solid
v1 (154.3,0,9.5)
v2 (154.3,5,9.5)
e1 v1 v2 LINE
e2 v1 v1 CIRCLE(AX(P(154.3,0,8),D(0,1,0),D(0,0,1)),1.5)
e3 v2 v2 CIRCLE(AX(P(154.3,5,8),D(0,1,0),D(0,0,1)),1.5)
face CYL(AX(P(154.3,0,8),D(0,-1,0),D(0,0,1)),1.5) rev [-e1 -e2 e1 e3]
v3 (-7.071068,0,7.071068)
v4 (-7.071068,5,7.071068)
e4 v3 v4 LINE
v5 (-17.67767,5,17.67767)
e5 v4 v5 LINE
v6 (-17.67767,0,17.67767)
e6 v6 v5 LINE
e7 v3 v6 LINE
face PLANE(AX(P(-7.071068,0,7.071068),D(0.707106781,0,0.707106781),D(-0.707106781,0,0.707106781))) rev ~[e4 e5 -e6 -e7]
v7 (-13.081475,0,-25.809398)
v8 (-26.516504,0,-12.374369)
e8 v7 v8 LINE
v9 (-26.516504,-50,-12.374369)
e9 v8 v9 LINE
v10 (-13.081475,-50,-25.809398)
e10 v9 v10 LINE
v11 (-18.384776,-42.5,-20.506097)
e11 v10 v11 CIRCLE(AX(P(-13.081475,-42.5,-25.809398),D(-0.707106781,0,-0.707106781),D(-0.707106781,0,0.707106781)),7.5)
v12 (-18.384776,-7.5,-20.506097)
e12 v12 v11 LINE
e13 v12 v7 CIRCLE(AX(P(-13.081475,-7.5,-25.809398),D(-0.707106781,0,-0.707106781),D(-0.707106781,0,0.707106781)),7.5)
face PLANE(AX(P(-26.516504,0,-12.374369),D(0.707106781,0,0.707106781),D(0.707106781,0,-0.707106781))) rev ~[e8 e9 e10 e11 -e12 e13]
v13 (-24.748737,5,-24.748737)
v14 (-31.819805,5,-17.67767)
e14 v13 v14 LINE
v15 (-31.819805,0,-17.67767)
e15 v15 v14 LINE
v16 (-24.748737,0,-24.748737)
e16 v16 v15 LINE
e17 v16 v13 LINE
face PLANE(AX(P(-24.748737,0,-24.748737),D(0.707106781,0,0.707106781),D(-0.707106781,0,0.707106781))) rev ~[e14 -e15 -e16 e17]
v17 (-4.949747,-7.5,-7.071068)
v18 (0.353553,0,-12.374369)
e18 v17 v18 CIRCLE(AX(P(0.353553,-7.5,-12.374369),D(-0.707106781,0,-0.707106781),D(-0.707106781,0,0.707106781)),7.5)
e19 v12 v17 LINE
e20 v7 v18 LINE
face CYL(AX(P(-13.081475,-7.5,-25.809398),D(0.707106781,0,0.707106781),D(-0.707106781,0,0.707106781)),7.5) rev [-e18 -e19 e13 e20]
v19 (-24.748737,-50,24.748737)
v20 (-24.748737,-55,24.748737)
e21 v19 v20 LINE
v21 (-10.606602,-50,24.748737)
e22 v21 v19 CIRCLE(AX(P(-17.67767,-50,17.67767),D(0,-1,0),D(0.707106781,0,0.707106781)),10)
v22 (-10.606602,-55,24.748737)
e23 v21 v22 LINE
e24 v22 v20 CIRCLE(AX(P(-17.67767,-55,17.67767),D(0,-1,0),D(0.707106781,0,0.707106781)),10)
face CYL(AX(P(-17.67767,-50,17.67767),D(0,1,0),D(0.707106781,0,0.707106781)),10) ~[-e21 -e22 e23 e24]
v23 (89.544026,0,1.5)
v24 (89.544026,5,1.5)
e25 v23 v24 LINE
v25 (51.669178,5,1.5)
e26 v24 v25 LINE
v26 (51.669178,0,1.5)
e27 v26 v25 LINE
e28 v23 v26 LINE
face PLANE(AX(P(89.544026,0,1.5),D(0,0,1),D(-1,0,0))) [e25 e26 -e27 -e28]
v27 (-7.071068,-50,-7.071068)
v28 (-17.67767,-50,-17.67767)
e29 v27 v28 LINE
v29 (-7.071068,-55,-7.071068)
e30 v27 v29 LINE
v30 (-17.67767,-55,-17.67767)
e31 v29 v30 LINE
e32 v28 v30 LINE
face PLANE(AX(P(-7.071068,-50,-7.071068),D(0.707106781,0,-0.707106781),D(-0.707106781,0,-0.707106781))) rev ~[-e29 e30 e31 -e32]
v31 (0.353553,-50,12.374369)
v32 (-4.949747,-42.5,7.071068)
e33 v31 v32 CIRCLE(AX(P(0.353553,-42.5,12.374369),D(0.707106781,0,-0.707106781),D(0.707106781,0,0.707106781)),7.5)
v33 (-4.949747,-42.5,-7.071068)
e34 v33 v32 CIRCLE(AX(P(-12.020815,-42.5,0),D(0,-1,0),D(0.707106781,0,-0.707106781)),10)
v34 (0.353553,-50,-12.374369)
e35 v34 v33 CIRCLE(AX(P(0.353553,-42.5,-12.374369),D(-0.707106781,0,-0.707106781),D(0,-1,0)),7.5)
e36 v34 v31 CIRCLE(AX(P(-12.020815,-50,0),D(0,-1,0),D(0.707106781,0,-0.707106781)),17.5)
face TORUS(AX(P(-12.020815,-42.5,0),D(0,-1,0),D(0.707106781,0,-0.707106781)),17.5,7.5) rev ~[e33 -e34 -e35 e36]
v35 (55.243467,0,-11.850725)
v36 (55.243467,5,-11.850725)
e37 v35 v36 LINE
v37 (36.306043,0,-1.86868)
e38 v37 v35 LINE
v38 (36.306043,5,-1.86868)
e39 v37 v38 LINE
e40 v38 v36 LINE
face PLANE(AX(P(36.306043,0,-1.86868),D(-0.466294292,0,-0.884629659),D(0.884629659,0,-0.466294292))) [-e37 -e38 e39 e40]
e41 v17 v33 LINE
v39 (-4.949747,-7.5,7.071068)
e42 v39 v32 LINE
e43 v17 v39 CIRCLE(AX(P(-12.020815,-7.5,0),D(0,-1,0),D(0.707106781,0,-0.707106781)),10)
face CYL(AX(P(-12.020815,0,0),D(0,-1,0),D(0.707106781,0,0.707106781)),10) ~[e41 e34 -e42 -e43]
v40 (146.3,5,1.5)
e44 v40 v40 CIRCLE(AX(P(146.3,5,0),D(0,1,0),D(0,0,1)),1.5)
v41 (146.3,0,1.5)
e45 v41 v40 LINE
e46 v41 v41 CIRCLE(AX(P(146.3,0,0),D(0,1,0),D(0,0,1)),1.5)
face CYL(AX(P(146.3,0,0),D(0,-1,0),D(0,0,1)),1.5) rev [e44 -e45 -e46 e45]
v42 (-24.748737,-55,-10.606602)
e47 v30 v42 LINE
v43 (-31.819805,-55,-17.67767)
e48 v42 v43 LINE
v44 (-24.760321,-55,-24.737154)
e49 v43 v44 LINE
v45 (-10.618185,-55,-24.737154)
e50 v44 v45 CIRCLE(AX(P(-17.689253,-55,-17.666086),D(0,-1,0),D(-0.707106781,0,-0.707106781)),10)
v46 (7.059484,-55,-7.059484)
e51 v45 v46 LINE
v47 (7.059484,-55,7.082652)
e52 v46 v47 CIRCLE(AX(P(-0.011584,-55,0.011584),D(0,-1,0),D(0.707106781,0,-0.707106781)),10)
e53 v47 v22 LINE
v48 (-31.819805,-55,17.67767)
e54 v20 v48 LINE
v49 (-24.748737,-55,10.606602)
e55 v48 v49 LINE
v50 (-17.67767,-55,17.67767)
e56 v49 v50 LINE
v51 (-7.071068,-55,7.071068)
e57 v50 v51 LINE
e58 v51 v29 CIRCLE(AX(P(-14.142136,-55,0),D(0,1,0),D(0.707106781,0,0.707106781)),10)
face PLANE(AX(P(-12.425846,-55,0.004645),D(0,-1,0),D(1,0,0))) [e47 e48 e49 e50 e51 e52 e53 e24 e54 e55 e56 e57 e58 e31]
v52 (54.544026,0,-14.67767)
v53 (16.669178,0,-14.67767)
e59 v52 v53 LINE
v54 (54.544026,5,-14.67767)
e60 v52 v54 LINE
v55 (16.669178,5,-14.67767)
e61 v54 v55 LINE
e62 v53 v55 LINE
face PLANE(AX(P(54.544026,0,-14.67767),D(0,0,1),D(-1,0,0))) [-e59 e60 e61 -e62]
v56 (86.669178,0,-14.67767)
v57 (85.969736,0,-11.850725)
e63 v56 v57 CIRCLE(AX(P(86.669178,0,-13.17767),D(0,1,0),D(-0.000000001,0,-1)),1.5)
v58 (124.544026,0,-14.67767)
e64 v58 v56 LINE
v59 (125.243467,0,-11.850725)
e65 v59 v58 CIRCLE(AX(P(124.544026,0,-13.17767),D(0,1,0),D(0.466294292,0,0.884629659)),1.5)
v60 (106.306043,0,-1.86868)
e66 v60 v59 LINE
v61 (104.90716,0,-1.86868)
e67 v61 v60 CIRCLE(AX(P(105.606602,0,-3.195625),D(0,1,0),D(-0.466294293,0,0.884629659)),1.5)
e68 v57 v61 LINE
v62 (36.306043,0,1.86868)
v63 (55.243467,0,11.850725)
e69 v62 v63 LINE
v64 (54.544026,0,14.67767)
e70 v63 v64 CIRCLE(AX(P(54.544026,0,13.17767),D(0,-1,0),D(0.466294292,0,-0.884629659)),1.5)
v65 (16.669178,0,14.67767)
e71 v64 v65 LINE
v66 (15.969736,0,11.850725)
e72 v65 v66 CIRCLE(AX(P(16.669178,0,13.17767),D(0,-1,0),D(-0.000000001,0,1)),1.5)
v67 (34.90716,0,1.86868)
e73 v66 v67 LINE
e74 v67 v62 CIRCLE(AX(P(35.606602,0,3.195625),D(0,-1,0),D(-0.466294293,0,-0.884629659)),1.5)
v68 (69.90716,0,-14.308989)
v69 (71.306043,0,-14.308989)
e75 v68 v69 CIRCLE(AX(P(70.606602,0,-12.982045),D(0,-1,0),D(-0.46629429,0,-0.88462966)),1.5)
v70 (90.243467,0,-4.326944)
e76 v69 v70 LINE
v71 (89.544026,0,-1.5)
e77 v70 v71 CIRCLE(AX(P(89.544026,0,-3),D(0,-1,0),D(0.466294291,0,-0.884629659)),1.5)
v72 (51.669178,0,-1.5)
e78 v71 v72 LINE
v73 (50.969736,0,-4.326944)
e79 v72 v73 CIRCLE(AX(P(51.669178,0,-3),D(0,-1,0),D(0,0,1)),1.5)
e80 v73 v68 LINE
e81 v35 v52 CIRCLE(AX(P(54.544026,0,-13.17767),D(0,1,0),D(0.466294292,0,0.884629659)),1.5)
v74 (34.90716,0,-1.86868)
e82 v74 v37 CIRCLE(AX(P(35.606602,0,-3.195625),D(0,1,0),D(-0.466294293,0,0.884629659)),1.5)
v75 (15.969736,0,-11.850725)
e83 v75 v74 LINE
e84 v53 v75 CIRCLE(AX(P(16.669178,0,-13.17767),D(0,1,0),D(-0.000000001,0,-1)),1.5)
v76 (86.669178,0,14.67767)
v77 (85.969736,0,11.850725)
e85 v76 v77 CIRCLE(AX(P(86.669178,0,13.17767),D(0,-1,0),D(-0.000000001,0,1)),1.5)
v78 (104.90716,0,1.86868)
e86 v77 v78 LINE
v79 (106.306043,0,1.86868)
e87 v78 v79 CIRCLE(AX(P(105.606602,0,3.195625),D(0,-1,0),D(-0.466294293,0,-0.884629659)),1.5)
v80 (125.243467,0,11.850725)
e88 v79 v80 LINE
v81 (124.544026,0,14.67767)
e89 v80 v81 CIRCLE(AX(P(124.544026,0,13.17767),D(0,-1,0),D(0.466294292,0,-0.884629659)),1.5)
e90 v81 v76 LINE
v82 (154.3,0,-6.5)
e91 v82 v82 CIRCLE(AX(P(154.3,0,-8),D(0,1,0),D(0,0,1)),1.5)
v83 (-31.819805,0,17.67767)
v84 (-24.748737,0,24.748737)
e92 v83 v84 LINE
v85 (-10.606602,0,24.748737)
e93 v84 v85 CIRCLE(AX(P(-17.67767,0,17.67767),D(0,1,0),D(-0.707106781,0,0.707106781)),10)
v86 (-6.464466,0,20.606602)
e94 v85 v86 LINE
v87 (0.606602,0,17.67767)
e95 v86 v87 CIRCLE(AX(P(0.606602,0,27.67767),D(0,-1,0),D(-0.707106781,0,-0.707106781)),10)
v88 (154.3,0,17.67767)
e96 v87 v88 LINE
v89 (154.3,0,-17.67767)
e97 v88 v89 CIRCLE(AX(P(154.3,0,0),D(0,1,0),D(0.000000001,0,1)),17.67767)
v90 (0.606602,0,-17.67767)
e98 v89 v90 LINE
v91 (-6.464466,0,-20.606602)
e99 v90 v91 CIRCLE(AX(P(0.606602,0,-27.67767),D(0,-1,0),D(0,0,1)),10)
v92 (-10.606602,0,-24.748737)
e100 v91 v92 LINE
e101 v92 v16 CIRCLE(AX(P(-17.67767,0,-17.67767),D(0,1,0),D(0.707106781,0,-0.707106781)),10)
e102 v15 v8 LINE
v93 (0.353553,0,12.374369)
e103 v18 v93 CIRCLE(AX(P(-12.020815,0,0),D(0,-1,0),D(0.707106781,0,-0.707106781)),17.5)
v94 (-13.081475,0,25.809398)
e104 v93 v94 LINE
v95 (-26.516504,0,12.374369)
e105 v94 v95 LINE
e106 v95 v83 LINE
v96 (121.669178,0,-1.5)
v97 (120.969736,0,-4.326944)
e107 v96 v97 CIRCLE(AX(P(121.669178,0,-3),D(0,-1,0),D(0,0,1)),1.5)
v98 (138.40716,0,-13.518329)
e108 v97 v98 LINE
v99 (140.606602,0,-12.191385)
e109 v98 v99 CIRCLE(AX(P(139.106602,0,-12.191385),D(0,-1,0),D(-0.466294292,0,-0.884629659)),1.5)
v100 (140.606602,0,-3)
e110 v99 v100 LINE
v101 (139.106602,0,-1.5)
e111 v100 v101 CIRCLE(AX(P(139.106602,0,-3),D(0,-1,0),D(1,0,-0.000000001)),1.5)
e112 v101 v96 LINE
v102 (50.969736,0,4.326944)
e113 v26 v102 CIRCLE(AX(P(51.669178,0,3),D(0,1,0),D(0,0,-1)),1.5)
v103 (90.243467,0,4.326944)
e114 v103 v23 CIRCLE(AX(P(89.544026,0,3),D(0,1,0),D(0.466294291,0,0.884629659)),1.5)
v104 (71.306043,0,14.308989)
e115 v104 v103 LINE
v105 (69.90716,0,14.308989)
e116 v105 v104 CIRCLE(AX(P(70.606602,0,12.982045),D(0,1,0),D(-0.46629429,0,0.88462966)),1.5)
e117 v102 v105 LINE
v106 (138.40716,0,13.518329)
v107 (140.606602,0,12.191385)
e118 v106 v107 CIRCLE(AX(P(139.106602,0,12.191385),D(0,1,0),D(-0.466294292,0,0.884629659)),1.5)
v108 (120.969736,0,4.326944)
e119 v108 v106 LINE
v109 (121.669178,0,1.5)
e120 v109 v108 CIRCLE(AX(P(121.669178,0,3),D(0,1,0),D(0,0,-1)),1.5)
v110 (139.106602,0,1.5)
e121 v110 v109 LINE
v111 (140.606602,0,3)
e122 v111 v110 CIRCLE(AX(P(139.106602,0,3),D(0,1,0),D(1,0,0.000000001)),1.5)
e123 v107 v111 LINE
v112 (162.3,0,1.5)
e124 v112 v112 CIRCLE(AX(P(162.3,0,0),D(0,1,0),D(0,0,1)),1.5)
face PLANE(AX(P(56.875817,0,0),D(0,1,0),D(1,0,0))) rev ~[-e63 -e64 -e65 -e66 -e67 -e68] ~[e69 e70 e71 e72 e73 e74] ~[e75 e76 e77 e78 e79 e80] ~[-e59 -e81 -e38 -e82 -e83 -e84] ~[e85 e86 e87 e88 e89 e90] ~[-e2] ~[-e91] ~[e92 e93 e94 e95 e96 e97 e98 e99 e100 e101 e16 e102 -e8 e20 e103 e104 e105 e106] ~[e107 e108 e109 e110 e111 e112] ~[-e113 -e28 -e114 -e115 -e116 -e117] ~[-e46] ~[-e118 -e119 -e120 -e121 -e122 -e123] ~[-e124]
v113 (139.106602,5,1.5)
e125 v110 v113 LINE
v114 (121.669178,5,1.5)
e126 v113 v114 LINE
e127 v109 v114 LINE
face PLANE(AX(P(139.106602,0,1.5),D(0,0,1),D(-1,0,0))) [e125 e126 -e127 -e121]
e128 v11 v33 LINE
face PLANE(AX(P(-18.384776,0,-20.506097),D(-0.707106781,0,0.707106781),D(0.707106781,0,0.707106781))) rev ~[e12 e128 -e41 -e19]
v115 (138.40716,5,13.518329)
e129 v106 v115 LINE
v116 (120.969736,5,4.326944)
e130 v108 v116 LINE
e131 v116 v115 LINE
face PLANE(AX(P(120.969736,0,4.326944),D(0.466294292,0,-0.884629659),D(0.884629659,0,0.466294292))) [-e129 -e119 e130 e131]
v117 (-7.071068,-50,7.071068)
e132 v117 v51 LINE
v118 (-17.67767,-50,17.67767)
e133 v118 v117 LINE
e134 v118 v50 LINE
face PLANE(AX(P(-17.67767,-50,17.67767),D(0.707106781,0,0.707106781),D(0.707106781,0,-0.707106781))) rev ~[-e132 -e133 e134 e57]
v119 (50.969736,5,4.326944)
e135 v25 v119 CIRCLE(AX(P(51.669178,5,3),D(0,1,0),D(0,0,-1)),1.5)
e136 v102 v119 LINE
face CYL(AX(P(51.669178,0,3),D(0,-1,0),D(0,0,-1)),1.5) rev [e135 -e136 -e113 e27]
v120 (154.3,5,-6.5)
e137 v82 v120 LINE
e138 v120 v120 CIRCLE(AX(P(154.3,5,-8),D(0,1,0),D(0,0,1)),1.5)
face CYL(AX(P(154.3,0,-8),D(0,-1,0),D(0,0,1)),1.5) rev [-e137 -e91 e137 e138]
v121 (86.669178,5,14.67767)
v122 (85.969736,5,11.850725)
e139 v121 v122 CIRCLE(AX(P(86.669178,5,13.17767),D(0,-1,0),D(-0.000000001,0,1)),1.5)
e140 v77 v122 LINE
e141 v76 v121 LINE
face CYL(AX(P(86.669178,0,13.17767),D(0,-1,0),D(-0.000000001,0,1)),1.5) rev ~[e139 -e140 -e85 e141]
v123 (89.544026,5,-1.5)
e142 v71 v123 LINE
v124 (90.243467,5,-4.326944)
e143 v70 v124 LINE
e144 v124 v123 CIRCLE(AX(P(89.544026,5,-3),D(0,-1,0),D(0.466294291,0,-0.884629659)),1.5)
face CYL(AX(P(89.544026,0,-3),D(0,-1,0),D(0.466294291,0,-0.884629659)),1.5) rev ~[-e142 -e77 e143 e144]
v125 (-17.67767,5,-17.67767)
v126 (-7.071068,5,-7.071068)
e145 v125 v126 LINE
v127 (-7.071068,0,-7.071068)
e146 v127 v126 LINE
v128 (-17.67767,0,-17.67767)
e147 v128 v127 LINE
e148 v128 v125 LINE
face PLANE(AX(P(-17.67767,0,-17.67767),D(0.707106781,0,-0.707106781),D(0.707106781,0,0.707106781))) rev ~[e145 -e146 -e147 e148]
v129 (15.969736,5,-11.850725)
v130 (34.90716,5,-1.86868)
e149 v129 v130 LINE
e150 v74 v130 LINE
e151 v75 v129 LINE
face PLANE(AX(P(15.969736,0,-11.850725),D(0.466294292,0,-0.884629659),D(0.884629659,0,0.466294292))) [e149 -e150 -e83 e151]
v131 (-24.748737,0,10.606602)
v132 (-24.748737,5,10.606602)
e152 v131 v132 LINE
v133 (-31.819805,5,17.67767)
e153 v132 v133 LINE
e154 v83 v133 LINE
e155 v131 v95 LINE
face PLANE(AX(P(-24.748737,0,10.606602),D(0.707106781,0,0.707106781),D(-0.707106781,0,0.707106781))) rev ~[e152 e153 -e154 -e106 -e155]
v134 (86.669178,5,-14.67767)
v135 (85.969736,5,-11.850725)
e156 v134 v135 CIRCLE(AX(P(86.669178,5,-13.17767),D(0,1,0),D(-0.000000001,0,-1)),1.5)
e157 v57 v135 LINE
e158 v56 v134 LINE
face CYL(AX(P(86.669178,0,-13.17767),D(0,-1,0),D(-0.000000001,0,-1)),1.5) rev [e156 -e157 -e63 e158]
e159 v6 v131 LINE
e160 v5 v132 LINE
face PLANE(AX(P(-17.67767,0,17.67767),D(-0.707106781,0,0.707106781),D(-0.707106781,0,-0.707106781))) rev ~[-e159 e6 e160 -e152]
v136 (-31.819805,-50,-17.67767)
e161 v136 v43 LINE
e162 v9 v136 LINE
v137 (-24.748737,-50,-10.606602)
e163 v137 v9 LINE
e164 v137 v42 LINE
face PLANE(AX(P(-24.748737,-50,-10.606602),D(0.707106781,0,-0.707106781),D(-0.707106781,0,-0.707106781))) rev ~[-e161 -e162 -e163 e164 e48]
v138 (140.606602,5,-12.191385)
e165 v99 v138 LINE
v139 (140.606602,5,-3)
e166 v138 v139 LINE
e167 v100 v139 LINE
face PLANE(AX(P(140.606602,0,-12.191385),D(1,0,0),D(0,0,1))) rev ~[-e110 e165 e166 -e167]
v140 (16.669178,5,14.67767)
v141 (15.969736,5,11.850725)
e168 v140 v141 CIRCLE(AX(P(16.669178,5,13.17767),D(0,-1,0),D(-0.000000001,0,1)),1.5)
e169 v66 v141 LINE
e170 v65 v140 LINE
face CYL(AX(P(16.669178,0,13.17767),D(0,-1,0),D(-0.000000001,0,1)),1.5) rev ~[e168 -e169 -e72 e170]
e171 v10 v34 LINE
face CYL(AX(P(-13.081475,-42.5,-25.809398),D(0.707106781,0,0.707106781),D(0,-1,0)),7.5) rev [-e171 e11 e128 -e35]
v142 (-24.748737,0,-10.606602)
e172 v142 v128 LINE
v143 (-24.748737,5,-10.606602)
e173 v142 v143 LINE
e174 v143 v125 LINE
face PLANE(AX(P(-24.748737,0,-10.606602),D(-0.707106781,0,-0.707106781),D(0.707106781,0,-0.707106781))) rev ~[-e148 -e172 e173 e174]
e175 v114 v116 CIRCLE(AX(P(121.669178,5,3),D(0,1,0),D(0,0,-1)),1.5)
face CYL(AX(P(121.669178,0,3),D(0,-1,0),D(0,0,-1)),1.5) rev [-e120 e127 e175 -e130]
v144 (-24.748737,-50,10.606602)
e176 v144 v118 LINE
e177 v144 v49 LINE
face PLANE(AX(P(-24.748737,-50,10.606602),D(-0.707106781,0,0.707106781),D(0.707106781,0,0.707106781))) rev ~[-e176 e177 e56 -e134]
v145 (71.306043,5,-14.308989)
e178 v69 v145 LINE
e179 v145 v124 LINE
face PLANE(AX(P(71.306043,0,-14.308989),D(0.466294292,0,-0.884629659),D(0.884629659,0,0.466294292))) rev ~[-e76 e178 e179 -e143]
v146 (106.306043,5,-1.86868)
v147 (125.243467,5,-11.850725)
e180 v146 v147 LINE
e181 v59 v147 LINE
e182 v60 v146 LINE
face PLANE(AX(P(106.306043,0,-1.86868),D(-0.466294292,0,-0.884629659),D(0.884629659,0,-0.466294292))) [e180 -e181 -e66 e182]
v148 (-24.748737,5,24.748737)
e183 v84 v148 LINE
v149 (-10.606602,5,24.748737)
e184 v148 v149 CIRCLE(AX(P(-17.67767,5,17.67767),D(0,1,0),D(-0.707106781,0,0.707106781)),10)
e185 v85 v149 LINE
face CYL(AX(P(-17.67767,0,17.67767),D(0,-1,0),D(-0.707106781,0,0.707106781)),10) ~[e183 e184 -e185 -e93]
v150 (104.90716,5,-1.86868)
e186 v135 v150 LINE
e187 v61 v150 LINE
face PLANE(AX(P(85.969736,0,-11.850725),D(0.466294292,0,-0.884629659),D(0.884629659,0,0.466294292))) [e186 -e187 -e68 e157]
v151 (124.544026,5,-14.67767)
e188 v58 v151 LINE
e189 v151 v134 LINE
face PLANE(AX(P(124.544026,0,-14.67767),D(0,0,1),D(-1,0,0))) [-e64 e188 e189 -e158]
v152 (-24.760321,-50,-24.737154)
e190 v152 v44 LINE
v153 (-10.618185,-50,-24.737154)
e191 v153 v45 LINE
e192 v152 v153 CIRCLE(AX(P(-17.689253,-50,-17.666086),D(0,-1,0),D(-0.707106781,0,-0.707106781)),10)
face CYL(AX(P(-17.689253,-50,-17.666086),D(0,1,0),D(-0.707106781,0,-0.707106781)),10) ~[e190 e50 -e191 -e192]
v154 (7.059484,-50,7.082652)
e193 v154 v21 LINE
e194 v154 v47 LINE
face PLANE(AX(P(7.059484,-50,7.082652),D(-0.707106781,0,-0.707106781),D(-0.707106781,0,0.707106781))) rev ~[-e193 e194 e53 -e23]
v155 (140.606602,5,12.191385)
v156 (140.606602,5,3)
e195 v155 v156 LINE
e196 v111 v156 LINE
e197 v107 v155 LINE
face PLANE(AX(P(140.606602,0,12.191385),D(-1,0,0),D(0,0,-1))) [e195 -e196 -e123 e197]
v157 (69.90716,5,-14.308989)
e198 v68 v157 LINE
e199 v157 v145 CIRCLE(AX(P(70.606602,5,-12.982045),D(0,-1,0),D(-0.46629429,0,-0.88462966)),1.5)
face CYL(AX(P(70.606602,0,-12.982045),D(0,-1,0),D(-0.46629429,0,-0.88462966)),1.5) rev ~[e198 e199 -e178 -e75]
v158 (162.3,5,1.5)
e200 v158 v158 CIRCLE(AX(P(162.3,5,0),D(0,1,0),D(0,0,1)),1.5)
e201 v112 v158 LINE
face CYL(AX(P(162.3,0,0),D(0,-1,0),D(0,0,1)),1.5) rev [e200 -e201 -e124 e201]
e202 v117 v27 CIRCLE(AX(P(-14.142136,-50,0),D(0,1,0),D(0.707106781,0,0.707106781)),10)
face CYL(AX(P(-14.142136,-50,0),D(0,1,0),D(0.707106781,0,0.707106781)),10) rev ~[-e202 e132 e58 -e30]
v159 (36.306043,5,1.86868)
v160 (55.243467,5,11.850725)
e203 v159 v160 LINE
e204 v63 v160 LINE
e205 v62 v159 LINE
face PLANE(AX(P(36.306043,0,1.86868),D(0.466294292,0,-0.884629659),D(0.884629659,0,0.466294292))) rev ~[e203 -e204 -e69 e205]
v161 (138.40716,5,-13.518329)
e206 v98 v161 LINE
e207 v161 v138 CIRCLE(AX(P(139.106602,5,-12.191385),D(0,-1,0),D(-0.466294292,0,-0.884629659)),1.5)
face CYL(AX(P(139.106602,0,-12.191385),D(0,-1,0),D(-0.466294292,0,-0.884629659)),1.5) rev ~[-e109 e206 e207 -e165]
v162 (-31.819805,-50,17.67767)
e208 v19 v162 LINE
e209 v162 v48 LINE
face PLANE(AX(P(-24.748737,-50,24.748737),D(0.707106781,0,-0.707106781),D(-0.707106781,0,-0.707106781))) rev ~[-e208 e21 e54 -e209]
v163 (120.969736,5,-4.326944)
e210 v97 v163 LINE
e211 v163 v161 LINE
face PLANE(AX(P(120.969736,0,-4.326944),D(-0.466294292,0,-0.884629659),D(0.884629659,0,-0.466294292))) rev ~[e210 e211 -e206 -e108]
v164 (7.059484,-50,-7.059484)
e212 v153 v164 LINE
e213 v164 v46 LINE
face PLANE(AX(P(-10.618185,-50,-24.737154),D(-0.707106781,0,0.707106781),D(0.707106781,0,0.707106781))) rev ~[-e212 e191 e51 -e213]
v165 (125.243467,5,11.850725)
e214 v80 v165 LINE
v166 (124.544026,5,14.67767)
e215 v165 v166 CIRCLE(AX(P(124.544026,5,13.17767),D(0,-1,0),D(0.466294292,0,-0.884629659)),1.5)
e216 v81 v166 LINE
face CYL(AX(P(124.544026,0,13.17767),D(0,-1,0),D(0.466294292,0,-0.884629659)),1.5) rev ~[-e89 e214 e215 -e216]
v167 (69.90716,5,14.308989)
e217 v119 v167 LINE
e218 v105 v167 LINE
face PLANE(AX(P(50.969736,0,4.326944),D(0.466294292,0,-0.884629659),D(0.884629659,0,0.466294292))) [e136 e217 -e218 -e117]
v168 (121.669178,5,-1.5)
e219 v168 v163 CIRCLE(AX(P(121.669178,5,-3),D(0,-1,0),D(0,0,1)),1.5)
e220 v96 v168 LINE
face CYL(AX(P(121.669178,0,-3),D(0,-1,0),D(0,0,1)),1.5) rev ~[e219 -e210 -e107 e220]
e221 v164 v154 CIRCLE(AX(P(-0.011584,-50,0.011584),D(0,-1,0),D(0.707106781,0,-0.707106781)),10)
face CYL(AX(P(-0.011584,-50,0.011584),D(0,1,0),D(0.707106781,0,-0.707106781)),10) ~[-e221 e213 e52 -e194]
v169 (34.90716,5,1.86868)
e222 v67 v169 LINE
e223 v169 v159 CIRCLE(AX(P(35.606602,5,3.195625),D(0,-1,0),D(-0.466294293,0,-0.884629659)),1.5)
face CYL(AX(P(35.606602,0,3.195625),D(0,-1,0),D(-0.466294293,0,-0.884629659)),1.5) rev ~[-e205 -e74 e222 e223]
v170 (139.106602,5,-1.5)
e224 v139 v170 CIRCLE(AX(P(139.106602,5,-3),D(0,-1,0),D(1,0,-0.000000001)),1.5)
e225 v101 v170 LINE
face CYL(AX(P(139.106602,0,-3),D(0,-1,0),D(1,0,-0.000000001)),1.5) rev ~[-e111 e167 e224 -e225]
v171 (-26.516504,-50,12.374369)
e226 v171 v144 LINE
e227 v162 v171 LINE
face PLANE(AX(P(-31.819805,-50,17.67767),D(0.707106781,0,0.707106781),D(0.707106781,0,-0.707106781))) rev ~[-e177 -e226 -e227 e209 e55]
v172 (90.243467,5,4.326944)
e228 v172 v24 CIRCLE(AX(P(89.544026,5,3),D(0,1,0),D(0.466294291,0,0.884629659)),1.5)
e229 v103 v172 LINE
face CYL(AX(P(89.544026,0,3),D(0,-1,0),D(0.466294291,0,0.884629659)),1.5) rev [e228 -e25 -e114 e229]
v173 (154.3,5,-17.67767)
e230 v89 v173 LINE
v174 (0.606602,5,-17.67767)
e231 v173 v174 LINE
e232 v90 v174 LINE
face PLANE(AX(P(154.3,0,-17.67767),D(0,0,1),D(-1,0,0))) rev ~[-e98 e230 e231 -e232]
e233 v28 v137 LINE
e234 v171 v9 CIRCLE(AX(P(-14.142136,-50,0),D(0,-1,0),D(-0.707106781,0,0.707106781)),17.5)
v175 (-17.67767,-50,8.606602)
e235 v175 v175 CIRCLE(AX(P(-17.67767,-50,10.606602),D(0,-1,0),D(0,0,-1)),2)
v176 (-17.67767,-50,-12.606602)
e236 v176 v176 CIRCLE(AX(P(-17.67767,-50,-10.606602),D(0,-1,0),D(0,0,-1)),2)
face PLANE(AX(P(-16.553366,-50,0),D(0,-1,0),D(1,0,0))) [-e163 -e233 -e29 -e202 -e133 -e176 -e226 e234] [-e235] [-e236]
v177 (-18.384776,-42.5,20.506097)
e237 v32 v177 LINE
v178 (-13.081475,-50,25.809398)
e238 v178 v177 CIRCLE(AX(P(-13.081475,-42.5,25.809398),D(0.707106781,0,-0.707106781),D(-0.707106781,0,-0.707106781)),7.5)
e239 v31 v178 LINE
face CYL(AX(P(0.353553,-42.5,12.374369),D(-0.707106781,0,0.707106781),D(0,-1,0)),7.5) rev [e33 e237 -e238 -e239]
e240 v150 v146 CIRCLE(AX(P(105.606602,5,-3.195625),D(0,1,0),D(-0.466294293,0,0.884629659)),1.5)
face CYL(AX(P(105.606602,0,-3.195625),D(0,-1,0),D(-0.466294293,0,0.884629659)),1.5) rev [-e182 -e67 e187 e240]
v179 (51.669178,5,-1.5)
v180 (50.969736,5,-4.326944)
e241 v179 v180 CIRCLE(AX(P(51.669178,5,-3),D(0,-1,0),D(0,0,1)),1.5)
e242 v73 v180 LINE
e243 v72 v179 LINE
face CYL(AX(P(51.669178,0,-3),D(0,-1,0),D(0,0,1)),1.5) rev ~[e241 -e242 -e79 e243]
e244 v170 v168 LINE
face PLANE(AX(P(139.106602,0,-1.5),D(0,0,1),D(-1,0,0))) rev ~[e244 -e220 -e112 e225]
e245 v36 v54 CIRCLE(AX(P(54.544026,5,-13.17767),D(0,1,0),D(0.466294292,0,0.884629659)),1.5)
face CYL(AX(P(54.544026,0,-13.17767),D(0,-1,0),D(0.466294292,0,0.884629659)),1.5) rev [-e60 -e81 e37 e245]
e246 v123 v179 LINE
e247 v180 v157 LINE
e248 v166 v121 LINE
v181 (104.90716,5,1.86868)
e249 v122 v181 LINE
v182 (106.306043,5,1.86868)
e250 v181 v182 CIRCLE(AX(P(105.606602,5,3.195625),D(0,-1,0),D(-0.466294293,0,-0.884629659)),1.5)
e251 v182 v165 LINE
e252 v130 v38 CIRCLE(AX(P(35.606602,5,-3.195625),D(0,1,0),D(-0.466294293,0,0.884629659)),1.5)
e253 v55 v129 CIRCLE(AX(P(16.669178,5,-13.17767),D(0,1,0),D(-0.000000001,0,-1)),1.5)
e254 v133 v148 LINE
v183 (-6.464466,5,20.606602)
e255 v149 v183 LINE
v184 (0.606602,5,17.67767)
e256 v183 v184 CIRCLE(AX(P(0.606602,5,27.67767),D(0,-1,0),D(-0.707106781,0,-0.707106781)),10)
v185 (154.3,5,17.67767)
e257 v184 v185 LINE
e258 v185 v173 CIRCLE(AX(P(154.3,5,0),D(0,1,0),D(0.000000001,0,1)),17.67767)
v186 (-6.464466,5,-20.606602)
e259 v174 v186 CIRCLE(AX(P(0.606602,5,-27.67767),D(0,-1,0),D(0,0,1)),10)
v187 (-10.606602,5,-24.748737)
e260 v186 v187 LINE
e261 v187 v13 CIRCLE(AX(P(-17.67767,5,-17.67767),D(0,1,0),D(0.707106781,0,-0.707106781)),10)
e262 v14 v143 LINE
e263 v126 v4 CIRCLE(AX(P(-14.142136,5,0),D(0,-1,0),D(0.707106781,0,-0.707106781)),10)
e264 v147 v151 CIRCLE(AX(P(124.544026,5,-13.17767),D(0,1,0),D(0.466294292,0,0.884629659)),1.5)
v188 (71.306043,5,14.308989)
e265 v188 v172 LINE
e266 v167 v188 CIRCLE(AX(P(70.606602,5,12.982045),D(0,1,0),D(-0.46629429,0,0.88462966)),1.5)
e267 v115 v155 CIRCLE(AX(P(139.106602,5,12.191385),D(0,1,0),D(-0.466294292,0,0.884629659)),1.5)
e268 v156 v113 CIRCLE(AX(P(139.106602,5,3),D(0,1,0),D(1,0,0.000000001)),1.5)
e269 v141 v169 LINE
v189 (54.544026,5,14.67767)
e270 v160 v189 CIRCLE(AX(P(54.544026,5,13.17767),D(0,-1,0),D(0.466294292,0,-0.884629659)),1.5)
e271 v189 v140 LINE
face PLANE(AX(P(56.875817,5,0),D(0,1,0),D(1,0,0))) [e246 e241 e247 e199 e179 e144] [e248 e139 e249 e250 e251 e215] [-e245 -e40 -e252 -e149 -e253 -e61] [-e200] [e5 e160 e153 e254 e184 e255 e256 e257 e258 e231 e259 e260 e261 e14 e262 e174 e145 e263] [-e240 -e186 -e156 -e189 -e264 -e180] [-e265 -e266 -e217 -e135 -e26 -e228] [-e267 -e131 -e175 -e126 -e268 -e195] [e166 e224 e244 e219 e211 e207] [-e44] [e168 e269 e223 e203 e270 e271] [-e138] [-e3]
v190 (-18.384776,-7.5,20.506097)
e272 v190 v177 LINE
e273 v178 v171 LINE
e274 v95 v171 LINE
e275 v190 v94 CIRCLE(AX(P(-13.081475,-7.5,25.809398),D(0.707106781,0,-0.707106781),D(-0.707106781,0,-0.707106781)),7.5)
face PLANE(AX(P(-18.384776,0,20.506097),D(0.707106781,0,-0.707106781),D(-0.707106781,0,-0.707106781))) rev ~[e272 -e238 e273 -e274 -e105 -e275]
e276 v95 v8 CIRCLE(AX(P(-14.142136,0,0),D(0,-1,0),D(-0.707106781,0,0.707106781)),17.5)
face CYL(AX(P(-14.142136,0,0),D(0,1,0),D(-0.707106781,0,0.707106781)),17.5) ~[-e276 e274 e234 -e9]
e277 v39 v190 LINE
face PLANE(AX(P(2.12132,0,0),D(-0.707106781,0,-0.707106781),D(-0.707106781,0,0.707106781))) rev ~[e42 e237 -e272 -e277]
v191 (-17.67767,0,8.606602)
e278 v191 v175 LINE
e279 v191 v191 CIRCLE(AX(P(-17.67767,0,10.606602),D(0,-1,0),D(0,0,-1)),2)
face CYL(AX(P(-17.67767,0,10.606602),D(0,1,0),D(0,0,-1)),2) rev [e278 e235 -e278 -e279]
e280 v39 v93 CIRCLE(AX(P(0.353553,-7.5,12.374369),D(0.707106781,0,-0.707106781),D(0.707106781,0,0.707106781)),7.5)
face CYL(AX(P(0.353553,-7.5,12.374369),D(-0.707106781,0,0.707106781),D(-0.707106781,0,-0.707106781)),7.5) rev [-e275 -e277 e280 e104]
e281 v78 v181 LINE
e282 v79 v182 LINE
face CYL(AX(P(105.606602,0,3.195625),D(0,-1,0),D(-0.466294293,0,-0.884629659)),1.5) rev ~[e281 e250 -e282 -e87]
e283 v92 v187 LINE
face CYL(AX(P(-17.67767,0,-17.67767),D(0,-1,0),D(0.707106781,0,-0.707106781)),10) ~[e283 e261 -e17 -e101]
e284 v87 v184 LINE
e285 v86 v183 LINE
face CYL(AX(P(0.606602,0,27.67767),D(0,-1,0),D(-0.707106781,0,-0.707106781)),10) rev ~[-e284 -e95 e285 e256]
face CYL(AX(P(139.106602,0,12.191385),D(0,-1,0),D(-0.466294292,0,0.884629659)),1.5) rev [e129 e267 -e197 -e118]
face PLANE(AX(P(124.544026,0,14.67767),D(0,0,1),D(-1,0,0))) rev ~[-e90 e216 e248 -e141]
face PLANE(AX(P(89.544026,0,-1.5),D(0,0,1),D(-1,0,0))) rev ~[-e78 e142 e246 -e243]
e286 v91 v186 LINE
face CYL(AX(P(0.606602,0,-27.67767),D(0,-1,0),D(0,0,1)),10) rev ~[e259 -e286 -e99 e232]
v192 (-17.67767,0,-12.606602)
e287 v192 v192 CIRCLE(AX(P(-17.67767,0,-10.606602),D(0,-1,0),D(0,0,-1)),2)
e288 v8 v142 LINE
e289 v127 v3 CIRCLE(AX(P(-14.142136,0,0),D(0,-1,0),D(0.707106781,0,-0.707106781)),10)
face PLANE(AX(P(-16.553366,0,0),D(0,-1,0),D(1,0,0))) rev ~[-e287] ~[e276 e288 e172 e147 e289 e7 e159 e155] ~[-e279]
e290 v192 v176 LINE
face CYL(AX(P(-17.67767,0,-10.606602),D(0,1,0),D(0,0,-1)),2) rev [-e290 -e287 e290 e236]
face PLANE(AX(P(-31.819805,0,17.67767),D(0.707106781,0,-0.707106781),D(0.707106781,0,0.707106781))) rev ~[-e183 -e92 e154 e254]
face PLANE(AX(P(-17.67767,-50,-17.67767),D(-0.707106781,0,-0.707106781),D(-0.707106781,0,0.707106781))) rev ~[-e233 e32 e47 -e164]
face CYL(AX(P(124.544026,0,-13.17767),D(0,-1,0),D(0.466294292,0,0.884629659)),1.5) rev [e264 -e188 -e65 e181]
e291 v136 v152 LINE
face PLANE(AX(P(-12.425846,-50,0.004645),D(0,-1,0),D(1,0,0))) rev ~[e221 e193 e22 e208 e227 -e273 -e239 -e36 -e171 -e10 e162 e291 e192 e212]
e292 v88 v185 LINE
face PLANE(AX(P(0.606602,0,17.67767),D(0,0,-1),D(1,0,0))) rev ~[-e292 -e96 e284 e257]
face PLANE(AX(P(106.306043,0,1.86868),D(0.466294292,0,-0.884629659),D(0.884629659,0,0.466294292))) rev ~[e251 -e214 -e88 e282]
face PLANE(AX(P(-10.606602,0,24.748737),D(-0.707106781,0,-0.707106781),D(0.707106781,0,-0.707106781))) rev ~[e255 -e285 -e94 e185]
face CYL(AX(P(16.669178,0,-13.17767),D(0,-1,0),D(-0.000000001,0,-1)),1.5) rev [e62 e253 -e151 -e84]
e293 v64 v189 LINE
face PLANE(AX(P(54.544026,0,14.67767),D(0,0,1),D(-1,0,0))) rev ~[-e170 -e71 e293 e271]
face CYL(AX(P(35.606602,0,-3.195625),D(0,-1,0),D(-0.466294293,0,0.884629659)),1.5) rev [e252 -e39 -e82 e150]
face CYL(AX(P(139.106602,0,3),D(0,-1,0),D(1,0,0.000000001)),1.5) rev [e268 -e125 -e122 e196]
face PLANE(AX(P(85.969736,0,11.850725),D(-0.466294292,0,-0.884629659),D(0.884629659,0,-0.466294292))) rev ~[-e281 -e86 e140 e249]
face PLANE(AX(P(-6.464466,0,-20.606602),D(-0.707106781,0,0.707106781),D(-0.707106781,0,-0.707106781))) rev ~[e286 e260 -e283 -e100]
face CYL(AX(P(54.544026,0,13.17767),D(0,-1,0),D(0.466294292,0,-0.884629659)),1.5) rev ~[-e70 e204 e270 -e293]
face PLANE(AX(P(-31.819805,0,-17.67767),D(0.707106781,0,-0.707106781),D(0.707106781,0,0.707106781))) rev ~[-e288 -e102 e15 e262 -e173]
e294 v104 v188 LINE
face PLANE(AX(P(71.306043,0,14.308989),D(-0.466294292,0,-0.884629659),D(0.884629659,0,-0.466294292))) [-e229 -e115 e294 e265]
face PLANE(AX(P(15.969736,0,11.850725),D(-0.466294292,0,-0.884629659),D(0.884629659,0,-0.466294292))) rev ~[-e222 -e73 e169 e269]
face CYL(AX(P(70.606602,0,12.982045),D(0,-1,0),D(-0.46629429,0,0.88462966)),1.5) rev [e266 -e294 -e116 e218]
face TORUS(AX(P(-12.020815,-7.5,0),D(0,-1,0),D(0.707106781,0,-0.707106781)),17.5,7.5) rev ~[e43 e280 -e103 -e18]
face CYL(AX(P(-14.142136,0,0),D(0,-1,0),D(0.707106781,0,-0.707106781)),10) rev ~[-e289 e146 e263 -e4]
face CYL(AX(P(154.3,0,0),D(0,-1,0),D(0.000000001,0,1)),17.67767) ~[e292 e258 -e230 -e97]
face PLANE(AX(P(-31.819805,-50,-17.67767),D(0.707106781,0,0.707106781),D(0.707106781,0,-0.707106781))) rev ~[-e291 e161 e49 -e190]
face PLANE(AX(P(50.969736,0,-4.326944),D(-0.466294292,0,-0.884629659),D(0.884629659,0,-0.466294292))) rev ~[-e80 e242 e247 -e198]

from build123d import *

# Parameters (mm, degrees)
SKETCH1_R            = 1.5
BOSS_EXTRUDE1_DEPTH  = 5
SKETCH2_R            = 2
BOSS_EXTRUDE13_DEPTH = 50
FILLET3_R            = 10
FILLET8_R            = 7.5
BOSS_EXTRUDE14_DEPTH = 5
FILLET9_R            = 7.5


with BuildPart() as part:
    # Sketch1 → Boss-Extrude1 (new body)
    with BuildSketch(Plane(origin=(0, 0, 0), x_dir=(1, 0, 0), z_dir=(0, 1, 0))):
        with BuildLine():
            Line((-7.071067812, -7.071067812), (-17.67766953, -17.67766953))
            Line((-17.67766953, -17.67766953), (-24.748737342, -10.606601718))
            Line((-24.748737342, -10.606601718), (-31.819805153, -17.67766953))
            Line((-31.819805153, -17.67766953), (-24.748737342, -24.748737342))
            ThreePointArc((-24.748737342, -24.748737342), (-17.67766953, -27.67766953), (-10.606601718, -24.748737342))
            Line((-10.606601718, -24.748737342), (-6.464466135, -20.606601758))
            ThreePointArc((-6.464466135, -20.606601758), (-3.220232647, -18.438874245), (0.606601677, -17.67766957))
            Line((0.606601677, -17.67766957), (154.3, -17.67766957))
            ThreePointArc((154.3, -17.67766957), (171.97766953, 0), (154.3, 17.67766953))
            Line((154.3, 17.67766953), (0.606601718, 17.67766953))
            ThreePointArc((0.606601718, 17.67766953), (-3.220232606, 18.438874205), (-6.464466094, 20.606601718))
            Line((-6.464466094, 20.606601718), (-10.606601718, 24.748737342))
            ThreePointArc((-10.606601718, 24.748737342), (-17.67766953, 27.67766953), (-24.748737342, 24.748737342))
            Line((-24.748737342, 24.748737342), (-31.819805153, 17.67766953))
            Line((-31.819805153, 17.67766953), (-24.748737342, 10.606601718))
            Line((-24.748737342, 10.606601718), (-17.67766953, 17.67766953))
            Line((-17.67766953, 17.67766953), (-7.071067812, 7.071067812))
            ThreePointArc((-7.071067812, 7.071067812), (-4.142135624, 0), (-7.071067812, -7.071067812))
        make_face()
        with Locations(Location((146.3, 0, 0), (0, 0, 270))):
            Circle(SKETCH1_R, mode=Mode.SUBTRACT)
        with Locations(Location((154.3, -8, 0), (0, 0, 270))):
            Circle(SKETCH1_R, mode=Mode.SUBTRACT)
        with Locations(Location((162.3, 0, 0), (0, 0, 270))):
            Circle(SKETCH1_R, mode=Mode.SUBTRACT)
        with Locations(Location((154.3, 8, 0), (0, 0, 270))):
            Circle(SKETCH1_R, mode=Mode.SUBTRACT)
        with BuildLine():
            Line((15.969736075, 11.850725041), (34.90716028, 1.868680325))
            ThreePointArc((34.90716028, 1.868680325), (35.606601718, 1.695624813), (36.306043156, 1.868680325))
            Line((36.306043156, 1.868680325), (55.24346736, 11.850725041))
            ThreePointArc((55.24346736, 11.850725041), (56.000119452, 13.537935589), (54.544025922, 14.67766953))
            Line((54.544025922, 14.67766953), (16.669177513, 14.67766953))
            ThreePointArc((16.669177513, 14.67766953), (15.213083984, 13.537935589), (15.969736075, 11.850725041))
        make_face(mode=Mode.SUBTRACT)
        with BuildLine():
            Line((50.969736075, 4.326944488), (69.90716028, 14.308989205))
            ThreePointArc((69.90716028, 14.308989205), (70.606601718, 14.482044716), (71.306043156, 14.308989205))
            Line((71.306043156, 14.308989205), (90.24346736, 4.326944488))
            ThreePointArc((90.24346736, 4.326944488), (91.000119452, 2.63973394), (89.544025922, 1.5))
            Line((89.544025922, 1.5), (51.669177513, 1.5))
            ThreePointArc((51.669177513, 1.5), (50.213083984, 2.63973394), (50.969736075, 4.326944488))
        make_face(mode=Mode.SUBTRACT)
        with BuildLine():
            Line((85.969736075, 11.850725041), (104.90716028, 1.868680325))
            ThreePointArc((104.90716028, 1.868680325), (105.606601718, 1.695624813), (106.306043156, 1.868680325))
            Line((106.306043156, 1.868680325), (125.24346736, 11.850725041))
            ThreePointArc((125.24346736, 11.850725041), (126.000119452, 13.537935589), (124.544025922, 14.67766953))
            Line((124.544025922, 14.67766953), (86.669177513, 14.67766953))
            ThreePointArc((86.669177513, 14.67766953), (85.213083984, 13.537935589), (85.969736075, 11.850725041))
        make_face(mode=Mode.SUBTRACT)
        with BuildLine():
            Line((120.969736075, 4.326944488), (138.40716028, 13.518329033))
            ThreePointArc((138.40716028, 13.518329033), (139.881468753, 13.475744727), (140.606601718, 12.191384545))
            Line((140.606601718, 12.191384545), (140.606601718, 3))
            ThreePointArc((140.606601718, 3), (140.16726189, 1.939339828), (139.106601718, 1.5))
            Line((139.106601718, 1.5), (121.669177513, 1.5))
            ThreePointArc((121.669177513, 1.5), (120.213083984, 2.63973394), (120.969736075, 4.326944488))
        make_face(mode=Mode.SUBTRACT)
        with BuildLine():
            Line((140.606601718, -12.191384545), (140.606601718, -3))
            ThreePointArc((140.606601718, -3), (140.16726189, -1.939339828), (139.106601718, -1.5))
            Line((139.106601718, -1.5), (121.669177513, -1.5))
            ThreePointArc((121.669177513, -1.5), (120.213083984, -2.63973394), (120.969736075, -4.326944488))
            Line((120.969736075, -4.326944488), (138.40716028, -13.518329033))
            ThreePointArc((138.40716028, -13.518329033), (139.881468753, -13.475744727), (140.606601718, -12.191384545))
        make_face(mode=Mode.SUBTRACT)
        with BuildLine():
            Line((124.544025922, -14.67766953), (86.669177513, -14.67766953))
            ThreePointArc((86.669177513, -14.67766953), (85.213083984, -13.537935589), (85.969736075, -11.850725041))
            Line((85.969736075, -11.850725041), (104.90716028, -1.868680325))
            ThreePointArc((104.90716028, -1.868680325), (105.606601718, -1.695624813), (106.306043156, -1.868680325))
            Line((106.306043156, -1.868680325), (125.24346736, -11.850725041))
            ThreePointArc((125.24346736, -11.850725041), (126.000119452, -13.537935589), (124.544025922, -14.67766953))
        make_face(mode=Mode.SUBTRACT)
        with BuildLine():
            Line((71.306043156, -14.308989205), (90.24346736, -4.326944488))
            ThreePointArc((90.24346736, -4.326944488), (91.000119452, -2.63973394), (89.544025922, -1.5))
            Line((89.544025922, -1.5), (51.669177513, -1.5))
            ThreePointArc((51.669177513, -1.5), (50.213083984, -2.63973394), (50.969736075, -4.326944488))
            Line((50.969736075, -4.326944488), (69.90716028, -14.308989205))
            ThreePointArc((69.90716028, -14.308989205), (70.606601718, -14.482044716), (71.306043156, -14.308989205))
        make_face(mode=Mode.SUBTRACT)
        with BuildLine():
            Line((36.306043156, -1.868680325), (55.24346736, -11.850725041))
            ThreePointArc((55.24346736, -11.850725041), (56.000119452, -13.537935589), (54.544025922, -14.67766953))
            Line((54.544025922, -14.67766953), (16.669177513, -14.67766953))
            ThreePointArc((16.669177513, -14.67766953), (15.213083984, -13.537935589), (15.969736075, -11.850725041))
            Line((15.969736075, -11.850725041), (34.90716028, -1.868680325))
            ThreePointArc((34.90716028, -1.868680325), (35.606601718, -1.695624813), (36.306043156, -1.868680325))
        make_face(mode=Mode.SUBTRACT)
    extrude(amount=BOSS_EXTRUDE1_DEPTH)

    # Sketch2 → Boss-Extrude13 (add)
    with BuildSketch(Plane.XZ):
        with BuildLine():
            Line((2.121320344, 0), (-18.384776311, 20.506096654))
            Line((-18.384776311, 20.506096654), (-26.516504294, 12.374368671))
            ThreePointArc((-26.516504294, 12.374368671), (-31.642135624, 0), (-26.516504294, -12.374368671))
            Line((-26.516504294, -12.374368671), (-18.384776311, -20.506096654))
            Line((-18.384776311, -20.506096654), (2.121320344, 0))
        make_face()
        Polygon((-24.748737342, -10.606601718), (-24.748737342, 10.606601718), (-21.213203436, 14.142135624), (-17.67766953, 17.67766953), (0, 0), (-17.67766953, -17.67766953), (-21.213203436, -14.142135624), align=None, mode=Mode.SUBTRACT)
        Polygon((-21.213203436, 14.142135624), (-24.748737342, 10.606601718), (-24.748737342, -10.606601718), (-21.213203436, -14.142135624), (-17.67766953, -17.67766953), (0, 0), (-17.67766953, 17.67766953), align=None)
        with Locations(Location((-17.67766953, -10.606601718, 0), (0, 0, 270))):
            Circle(SKETCH2_R, mode=Mode.SUBTRACT)
        with Locations(Location((-17.67766953, 10.606601718, 0), (0, 0, 270))):
            Circle(SKETCH2_R, mode=Mode.SUBTRACT)
    extrude(amount=BOSS_EXTRUDE13_DEPTH)

    # Fillet3
    fillet3_edges = [part.edges().sort_by_distance(p)[0] for p in [
        (2.121320344, -25, 0),
    ]]
    fillet(fillet3_edges, radius=FILLET3_R)

    # Fillet8
    fillet8_edges = [part.edges().sort_by_distance(p)[0] for p in [
        (-11.66726189, 0, 13.788582233),
        (-11.66726189, 0, -13.788582233),
        (-2.02081528, 0, 0),
    ]]
    fillet(fillet8_edges, radius=FILLET8_R)

    # Sketch3 → Boss-Extrude14 (add)
    with BuildSketch(Plane.XZ.offset(50)):
        with BuildLine():
            Line((-7.071067812, -7.071067812), (-17.67766953, -17.67766953))
            Line((-17.67766953, -17.67766953), (-24.748737342, -10.606601718))
            Line((-24.748737342, -10.606601718), (-31.819805153, -17.67766953))
            Line((-31.819805153, -17.67766953), (-24.760321052, -24.737153631))
            ThreePointArc((-24.760321052, -24.737153631), (-17.68925324, -27.666085819), (-10.618185428, -24.737153631))
            Line((-10.618185428, -24.737153631), (7.059484102, -7.059484102))
            ThreePointArc((7.059484102, -7.059484102), (9.98841629, 0.01158371), (7.059484102, 7.082651522))
            Line((7.059484102, 7.082651522), (-10.606601718, 24.748737342))
            ThreePointArc((-10.606601718, 24.748737342), (-17.67766953, 27.67766953), (-24.748737342, 24.748737342))
            Line((-24.748737342, 24.748737342), (-31.819805153, 17.67766953))
            Line((-31.819805153, 17.67766953), (-24.748737342, 10.606601718))
            Line((-24.748737342, 10.606601718), (-17.67766953, 17.67766953))
            Line((-17.67766953, 17.67766953), (-7.071067812, 7.071067812))
            ThreePointArc((-7.071067812, 7.071067812), (-4.142135624, 0), (-7.071067812, -7.071067812))
        make_face()
    extrude(amount=BOSS_EXTRUDE14_DEPTH)

    # Fillet9
    fillet9_edges = [part.edges().sort_by_distance(p)[0] for p in [
        (-11.66726189, -50, 13.788582233),
        (-11.66726189, -50, -13.788582233),
        (-2.02081528, -50, 0),
    ]]
    fillet(fillet9_edges, radius=FILLET9_R)


solid = part.part
